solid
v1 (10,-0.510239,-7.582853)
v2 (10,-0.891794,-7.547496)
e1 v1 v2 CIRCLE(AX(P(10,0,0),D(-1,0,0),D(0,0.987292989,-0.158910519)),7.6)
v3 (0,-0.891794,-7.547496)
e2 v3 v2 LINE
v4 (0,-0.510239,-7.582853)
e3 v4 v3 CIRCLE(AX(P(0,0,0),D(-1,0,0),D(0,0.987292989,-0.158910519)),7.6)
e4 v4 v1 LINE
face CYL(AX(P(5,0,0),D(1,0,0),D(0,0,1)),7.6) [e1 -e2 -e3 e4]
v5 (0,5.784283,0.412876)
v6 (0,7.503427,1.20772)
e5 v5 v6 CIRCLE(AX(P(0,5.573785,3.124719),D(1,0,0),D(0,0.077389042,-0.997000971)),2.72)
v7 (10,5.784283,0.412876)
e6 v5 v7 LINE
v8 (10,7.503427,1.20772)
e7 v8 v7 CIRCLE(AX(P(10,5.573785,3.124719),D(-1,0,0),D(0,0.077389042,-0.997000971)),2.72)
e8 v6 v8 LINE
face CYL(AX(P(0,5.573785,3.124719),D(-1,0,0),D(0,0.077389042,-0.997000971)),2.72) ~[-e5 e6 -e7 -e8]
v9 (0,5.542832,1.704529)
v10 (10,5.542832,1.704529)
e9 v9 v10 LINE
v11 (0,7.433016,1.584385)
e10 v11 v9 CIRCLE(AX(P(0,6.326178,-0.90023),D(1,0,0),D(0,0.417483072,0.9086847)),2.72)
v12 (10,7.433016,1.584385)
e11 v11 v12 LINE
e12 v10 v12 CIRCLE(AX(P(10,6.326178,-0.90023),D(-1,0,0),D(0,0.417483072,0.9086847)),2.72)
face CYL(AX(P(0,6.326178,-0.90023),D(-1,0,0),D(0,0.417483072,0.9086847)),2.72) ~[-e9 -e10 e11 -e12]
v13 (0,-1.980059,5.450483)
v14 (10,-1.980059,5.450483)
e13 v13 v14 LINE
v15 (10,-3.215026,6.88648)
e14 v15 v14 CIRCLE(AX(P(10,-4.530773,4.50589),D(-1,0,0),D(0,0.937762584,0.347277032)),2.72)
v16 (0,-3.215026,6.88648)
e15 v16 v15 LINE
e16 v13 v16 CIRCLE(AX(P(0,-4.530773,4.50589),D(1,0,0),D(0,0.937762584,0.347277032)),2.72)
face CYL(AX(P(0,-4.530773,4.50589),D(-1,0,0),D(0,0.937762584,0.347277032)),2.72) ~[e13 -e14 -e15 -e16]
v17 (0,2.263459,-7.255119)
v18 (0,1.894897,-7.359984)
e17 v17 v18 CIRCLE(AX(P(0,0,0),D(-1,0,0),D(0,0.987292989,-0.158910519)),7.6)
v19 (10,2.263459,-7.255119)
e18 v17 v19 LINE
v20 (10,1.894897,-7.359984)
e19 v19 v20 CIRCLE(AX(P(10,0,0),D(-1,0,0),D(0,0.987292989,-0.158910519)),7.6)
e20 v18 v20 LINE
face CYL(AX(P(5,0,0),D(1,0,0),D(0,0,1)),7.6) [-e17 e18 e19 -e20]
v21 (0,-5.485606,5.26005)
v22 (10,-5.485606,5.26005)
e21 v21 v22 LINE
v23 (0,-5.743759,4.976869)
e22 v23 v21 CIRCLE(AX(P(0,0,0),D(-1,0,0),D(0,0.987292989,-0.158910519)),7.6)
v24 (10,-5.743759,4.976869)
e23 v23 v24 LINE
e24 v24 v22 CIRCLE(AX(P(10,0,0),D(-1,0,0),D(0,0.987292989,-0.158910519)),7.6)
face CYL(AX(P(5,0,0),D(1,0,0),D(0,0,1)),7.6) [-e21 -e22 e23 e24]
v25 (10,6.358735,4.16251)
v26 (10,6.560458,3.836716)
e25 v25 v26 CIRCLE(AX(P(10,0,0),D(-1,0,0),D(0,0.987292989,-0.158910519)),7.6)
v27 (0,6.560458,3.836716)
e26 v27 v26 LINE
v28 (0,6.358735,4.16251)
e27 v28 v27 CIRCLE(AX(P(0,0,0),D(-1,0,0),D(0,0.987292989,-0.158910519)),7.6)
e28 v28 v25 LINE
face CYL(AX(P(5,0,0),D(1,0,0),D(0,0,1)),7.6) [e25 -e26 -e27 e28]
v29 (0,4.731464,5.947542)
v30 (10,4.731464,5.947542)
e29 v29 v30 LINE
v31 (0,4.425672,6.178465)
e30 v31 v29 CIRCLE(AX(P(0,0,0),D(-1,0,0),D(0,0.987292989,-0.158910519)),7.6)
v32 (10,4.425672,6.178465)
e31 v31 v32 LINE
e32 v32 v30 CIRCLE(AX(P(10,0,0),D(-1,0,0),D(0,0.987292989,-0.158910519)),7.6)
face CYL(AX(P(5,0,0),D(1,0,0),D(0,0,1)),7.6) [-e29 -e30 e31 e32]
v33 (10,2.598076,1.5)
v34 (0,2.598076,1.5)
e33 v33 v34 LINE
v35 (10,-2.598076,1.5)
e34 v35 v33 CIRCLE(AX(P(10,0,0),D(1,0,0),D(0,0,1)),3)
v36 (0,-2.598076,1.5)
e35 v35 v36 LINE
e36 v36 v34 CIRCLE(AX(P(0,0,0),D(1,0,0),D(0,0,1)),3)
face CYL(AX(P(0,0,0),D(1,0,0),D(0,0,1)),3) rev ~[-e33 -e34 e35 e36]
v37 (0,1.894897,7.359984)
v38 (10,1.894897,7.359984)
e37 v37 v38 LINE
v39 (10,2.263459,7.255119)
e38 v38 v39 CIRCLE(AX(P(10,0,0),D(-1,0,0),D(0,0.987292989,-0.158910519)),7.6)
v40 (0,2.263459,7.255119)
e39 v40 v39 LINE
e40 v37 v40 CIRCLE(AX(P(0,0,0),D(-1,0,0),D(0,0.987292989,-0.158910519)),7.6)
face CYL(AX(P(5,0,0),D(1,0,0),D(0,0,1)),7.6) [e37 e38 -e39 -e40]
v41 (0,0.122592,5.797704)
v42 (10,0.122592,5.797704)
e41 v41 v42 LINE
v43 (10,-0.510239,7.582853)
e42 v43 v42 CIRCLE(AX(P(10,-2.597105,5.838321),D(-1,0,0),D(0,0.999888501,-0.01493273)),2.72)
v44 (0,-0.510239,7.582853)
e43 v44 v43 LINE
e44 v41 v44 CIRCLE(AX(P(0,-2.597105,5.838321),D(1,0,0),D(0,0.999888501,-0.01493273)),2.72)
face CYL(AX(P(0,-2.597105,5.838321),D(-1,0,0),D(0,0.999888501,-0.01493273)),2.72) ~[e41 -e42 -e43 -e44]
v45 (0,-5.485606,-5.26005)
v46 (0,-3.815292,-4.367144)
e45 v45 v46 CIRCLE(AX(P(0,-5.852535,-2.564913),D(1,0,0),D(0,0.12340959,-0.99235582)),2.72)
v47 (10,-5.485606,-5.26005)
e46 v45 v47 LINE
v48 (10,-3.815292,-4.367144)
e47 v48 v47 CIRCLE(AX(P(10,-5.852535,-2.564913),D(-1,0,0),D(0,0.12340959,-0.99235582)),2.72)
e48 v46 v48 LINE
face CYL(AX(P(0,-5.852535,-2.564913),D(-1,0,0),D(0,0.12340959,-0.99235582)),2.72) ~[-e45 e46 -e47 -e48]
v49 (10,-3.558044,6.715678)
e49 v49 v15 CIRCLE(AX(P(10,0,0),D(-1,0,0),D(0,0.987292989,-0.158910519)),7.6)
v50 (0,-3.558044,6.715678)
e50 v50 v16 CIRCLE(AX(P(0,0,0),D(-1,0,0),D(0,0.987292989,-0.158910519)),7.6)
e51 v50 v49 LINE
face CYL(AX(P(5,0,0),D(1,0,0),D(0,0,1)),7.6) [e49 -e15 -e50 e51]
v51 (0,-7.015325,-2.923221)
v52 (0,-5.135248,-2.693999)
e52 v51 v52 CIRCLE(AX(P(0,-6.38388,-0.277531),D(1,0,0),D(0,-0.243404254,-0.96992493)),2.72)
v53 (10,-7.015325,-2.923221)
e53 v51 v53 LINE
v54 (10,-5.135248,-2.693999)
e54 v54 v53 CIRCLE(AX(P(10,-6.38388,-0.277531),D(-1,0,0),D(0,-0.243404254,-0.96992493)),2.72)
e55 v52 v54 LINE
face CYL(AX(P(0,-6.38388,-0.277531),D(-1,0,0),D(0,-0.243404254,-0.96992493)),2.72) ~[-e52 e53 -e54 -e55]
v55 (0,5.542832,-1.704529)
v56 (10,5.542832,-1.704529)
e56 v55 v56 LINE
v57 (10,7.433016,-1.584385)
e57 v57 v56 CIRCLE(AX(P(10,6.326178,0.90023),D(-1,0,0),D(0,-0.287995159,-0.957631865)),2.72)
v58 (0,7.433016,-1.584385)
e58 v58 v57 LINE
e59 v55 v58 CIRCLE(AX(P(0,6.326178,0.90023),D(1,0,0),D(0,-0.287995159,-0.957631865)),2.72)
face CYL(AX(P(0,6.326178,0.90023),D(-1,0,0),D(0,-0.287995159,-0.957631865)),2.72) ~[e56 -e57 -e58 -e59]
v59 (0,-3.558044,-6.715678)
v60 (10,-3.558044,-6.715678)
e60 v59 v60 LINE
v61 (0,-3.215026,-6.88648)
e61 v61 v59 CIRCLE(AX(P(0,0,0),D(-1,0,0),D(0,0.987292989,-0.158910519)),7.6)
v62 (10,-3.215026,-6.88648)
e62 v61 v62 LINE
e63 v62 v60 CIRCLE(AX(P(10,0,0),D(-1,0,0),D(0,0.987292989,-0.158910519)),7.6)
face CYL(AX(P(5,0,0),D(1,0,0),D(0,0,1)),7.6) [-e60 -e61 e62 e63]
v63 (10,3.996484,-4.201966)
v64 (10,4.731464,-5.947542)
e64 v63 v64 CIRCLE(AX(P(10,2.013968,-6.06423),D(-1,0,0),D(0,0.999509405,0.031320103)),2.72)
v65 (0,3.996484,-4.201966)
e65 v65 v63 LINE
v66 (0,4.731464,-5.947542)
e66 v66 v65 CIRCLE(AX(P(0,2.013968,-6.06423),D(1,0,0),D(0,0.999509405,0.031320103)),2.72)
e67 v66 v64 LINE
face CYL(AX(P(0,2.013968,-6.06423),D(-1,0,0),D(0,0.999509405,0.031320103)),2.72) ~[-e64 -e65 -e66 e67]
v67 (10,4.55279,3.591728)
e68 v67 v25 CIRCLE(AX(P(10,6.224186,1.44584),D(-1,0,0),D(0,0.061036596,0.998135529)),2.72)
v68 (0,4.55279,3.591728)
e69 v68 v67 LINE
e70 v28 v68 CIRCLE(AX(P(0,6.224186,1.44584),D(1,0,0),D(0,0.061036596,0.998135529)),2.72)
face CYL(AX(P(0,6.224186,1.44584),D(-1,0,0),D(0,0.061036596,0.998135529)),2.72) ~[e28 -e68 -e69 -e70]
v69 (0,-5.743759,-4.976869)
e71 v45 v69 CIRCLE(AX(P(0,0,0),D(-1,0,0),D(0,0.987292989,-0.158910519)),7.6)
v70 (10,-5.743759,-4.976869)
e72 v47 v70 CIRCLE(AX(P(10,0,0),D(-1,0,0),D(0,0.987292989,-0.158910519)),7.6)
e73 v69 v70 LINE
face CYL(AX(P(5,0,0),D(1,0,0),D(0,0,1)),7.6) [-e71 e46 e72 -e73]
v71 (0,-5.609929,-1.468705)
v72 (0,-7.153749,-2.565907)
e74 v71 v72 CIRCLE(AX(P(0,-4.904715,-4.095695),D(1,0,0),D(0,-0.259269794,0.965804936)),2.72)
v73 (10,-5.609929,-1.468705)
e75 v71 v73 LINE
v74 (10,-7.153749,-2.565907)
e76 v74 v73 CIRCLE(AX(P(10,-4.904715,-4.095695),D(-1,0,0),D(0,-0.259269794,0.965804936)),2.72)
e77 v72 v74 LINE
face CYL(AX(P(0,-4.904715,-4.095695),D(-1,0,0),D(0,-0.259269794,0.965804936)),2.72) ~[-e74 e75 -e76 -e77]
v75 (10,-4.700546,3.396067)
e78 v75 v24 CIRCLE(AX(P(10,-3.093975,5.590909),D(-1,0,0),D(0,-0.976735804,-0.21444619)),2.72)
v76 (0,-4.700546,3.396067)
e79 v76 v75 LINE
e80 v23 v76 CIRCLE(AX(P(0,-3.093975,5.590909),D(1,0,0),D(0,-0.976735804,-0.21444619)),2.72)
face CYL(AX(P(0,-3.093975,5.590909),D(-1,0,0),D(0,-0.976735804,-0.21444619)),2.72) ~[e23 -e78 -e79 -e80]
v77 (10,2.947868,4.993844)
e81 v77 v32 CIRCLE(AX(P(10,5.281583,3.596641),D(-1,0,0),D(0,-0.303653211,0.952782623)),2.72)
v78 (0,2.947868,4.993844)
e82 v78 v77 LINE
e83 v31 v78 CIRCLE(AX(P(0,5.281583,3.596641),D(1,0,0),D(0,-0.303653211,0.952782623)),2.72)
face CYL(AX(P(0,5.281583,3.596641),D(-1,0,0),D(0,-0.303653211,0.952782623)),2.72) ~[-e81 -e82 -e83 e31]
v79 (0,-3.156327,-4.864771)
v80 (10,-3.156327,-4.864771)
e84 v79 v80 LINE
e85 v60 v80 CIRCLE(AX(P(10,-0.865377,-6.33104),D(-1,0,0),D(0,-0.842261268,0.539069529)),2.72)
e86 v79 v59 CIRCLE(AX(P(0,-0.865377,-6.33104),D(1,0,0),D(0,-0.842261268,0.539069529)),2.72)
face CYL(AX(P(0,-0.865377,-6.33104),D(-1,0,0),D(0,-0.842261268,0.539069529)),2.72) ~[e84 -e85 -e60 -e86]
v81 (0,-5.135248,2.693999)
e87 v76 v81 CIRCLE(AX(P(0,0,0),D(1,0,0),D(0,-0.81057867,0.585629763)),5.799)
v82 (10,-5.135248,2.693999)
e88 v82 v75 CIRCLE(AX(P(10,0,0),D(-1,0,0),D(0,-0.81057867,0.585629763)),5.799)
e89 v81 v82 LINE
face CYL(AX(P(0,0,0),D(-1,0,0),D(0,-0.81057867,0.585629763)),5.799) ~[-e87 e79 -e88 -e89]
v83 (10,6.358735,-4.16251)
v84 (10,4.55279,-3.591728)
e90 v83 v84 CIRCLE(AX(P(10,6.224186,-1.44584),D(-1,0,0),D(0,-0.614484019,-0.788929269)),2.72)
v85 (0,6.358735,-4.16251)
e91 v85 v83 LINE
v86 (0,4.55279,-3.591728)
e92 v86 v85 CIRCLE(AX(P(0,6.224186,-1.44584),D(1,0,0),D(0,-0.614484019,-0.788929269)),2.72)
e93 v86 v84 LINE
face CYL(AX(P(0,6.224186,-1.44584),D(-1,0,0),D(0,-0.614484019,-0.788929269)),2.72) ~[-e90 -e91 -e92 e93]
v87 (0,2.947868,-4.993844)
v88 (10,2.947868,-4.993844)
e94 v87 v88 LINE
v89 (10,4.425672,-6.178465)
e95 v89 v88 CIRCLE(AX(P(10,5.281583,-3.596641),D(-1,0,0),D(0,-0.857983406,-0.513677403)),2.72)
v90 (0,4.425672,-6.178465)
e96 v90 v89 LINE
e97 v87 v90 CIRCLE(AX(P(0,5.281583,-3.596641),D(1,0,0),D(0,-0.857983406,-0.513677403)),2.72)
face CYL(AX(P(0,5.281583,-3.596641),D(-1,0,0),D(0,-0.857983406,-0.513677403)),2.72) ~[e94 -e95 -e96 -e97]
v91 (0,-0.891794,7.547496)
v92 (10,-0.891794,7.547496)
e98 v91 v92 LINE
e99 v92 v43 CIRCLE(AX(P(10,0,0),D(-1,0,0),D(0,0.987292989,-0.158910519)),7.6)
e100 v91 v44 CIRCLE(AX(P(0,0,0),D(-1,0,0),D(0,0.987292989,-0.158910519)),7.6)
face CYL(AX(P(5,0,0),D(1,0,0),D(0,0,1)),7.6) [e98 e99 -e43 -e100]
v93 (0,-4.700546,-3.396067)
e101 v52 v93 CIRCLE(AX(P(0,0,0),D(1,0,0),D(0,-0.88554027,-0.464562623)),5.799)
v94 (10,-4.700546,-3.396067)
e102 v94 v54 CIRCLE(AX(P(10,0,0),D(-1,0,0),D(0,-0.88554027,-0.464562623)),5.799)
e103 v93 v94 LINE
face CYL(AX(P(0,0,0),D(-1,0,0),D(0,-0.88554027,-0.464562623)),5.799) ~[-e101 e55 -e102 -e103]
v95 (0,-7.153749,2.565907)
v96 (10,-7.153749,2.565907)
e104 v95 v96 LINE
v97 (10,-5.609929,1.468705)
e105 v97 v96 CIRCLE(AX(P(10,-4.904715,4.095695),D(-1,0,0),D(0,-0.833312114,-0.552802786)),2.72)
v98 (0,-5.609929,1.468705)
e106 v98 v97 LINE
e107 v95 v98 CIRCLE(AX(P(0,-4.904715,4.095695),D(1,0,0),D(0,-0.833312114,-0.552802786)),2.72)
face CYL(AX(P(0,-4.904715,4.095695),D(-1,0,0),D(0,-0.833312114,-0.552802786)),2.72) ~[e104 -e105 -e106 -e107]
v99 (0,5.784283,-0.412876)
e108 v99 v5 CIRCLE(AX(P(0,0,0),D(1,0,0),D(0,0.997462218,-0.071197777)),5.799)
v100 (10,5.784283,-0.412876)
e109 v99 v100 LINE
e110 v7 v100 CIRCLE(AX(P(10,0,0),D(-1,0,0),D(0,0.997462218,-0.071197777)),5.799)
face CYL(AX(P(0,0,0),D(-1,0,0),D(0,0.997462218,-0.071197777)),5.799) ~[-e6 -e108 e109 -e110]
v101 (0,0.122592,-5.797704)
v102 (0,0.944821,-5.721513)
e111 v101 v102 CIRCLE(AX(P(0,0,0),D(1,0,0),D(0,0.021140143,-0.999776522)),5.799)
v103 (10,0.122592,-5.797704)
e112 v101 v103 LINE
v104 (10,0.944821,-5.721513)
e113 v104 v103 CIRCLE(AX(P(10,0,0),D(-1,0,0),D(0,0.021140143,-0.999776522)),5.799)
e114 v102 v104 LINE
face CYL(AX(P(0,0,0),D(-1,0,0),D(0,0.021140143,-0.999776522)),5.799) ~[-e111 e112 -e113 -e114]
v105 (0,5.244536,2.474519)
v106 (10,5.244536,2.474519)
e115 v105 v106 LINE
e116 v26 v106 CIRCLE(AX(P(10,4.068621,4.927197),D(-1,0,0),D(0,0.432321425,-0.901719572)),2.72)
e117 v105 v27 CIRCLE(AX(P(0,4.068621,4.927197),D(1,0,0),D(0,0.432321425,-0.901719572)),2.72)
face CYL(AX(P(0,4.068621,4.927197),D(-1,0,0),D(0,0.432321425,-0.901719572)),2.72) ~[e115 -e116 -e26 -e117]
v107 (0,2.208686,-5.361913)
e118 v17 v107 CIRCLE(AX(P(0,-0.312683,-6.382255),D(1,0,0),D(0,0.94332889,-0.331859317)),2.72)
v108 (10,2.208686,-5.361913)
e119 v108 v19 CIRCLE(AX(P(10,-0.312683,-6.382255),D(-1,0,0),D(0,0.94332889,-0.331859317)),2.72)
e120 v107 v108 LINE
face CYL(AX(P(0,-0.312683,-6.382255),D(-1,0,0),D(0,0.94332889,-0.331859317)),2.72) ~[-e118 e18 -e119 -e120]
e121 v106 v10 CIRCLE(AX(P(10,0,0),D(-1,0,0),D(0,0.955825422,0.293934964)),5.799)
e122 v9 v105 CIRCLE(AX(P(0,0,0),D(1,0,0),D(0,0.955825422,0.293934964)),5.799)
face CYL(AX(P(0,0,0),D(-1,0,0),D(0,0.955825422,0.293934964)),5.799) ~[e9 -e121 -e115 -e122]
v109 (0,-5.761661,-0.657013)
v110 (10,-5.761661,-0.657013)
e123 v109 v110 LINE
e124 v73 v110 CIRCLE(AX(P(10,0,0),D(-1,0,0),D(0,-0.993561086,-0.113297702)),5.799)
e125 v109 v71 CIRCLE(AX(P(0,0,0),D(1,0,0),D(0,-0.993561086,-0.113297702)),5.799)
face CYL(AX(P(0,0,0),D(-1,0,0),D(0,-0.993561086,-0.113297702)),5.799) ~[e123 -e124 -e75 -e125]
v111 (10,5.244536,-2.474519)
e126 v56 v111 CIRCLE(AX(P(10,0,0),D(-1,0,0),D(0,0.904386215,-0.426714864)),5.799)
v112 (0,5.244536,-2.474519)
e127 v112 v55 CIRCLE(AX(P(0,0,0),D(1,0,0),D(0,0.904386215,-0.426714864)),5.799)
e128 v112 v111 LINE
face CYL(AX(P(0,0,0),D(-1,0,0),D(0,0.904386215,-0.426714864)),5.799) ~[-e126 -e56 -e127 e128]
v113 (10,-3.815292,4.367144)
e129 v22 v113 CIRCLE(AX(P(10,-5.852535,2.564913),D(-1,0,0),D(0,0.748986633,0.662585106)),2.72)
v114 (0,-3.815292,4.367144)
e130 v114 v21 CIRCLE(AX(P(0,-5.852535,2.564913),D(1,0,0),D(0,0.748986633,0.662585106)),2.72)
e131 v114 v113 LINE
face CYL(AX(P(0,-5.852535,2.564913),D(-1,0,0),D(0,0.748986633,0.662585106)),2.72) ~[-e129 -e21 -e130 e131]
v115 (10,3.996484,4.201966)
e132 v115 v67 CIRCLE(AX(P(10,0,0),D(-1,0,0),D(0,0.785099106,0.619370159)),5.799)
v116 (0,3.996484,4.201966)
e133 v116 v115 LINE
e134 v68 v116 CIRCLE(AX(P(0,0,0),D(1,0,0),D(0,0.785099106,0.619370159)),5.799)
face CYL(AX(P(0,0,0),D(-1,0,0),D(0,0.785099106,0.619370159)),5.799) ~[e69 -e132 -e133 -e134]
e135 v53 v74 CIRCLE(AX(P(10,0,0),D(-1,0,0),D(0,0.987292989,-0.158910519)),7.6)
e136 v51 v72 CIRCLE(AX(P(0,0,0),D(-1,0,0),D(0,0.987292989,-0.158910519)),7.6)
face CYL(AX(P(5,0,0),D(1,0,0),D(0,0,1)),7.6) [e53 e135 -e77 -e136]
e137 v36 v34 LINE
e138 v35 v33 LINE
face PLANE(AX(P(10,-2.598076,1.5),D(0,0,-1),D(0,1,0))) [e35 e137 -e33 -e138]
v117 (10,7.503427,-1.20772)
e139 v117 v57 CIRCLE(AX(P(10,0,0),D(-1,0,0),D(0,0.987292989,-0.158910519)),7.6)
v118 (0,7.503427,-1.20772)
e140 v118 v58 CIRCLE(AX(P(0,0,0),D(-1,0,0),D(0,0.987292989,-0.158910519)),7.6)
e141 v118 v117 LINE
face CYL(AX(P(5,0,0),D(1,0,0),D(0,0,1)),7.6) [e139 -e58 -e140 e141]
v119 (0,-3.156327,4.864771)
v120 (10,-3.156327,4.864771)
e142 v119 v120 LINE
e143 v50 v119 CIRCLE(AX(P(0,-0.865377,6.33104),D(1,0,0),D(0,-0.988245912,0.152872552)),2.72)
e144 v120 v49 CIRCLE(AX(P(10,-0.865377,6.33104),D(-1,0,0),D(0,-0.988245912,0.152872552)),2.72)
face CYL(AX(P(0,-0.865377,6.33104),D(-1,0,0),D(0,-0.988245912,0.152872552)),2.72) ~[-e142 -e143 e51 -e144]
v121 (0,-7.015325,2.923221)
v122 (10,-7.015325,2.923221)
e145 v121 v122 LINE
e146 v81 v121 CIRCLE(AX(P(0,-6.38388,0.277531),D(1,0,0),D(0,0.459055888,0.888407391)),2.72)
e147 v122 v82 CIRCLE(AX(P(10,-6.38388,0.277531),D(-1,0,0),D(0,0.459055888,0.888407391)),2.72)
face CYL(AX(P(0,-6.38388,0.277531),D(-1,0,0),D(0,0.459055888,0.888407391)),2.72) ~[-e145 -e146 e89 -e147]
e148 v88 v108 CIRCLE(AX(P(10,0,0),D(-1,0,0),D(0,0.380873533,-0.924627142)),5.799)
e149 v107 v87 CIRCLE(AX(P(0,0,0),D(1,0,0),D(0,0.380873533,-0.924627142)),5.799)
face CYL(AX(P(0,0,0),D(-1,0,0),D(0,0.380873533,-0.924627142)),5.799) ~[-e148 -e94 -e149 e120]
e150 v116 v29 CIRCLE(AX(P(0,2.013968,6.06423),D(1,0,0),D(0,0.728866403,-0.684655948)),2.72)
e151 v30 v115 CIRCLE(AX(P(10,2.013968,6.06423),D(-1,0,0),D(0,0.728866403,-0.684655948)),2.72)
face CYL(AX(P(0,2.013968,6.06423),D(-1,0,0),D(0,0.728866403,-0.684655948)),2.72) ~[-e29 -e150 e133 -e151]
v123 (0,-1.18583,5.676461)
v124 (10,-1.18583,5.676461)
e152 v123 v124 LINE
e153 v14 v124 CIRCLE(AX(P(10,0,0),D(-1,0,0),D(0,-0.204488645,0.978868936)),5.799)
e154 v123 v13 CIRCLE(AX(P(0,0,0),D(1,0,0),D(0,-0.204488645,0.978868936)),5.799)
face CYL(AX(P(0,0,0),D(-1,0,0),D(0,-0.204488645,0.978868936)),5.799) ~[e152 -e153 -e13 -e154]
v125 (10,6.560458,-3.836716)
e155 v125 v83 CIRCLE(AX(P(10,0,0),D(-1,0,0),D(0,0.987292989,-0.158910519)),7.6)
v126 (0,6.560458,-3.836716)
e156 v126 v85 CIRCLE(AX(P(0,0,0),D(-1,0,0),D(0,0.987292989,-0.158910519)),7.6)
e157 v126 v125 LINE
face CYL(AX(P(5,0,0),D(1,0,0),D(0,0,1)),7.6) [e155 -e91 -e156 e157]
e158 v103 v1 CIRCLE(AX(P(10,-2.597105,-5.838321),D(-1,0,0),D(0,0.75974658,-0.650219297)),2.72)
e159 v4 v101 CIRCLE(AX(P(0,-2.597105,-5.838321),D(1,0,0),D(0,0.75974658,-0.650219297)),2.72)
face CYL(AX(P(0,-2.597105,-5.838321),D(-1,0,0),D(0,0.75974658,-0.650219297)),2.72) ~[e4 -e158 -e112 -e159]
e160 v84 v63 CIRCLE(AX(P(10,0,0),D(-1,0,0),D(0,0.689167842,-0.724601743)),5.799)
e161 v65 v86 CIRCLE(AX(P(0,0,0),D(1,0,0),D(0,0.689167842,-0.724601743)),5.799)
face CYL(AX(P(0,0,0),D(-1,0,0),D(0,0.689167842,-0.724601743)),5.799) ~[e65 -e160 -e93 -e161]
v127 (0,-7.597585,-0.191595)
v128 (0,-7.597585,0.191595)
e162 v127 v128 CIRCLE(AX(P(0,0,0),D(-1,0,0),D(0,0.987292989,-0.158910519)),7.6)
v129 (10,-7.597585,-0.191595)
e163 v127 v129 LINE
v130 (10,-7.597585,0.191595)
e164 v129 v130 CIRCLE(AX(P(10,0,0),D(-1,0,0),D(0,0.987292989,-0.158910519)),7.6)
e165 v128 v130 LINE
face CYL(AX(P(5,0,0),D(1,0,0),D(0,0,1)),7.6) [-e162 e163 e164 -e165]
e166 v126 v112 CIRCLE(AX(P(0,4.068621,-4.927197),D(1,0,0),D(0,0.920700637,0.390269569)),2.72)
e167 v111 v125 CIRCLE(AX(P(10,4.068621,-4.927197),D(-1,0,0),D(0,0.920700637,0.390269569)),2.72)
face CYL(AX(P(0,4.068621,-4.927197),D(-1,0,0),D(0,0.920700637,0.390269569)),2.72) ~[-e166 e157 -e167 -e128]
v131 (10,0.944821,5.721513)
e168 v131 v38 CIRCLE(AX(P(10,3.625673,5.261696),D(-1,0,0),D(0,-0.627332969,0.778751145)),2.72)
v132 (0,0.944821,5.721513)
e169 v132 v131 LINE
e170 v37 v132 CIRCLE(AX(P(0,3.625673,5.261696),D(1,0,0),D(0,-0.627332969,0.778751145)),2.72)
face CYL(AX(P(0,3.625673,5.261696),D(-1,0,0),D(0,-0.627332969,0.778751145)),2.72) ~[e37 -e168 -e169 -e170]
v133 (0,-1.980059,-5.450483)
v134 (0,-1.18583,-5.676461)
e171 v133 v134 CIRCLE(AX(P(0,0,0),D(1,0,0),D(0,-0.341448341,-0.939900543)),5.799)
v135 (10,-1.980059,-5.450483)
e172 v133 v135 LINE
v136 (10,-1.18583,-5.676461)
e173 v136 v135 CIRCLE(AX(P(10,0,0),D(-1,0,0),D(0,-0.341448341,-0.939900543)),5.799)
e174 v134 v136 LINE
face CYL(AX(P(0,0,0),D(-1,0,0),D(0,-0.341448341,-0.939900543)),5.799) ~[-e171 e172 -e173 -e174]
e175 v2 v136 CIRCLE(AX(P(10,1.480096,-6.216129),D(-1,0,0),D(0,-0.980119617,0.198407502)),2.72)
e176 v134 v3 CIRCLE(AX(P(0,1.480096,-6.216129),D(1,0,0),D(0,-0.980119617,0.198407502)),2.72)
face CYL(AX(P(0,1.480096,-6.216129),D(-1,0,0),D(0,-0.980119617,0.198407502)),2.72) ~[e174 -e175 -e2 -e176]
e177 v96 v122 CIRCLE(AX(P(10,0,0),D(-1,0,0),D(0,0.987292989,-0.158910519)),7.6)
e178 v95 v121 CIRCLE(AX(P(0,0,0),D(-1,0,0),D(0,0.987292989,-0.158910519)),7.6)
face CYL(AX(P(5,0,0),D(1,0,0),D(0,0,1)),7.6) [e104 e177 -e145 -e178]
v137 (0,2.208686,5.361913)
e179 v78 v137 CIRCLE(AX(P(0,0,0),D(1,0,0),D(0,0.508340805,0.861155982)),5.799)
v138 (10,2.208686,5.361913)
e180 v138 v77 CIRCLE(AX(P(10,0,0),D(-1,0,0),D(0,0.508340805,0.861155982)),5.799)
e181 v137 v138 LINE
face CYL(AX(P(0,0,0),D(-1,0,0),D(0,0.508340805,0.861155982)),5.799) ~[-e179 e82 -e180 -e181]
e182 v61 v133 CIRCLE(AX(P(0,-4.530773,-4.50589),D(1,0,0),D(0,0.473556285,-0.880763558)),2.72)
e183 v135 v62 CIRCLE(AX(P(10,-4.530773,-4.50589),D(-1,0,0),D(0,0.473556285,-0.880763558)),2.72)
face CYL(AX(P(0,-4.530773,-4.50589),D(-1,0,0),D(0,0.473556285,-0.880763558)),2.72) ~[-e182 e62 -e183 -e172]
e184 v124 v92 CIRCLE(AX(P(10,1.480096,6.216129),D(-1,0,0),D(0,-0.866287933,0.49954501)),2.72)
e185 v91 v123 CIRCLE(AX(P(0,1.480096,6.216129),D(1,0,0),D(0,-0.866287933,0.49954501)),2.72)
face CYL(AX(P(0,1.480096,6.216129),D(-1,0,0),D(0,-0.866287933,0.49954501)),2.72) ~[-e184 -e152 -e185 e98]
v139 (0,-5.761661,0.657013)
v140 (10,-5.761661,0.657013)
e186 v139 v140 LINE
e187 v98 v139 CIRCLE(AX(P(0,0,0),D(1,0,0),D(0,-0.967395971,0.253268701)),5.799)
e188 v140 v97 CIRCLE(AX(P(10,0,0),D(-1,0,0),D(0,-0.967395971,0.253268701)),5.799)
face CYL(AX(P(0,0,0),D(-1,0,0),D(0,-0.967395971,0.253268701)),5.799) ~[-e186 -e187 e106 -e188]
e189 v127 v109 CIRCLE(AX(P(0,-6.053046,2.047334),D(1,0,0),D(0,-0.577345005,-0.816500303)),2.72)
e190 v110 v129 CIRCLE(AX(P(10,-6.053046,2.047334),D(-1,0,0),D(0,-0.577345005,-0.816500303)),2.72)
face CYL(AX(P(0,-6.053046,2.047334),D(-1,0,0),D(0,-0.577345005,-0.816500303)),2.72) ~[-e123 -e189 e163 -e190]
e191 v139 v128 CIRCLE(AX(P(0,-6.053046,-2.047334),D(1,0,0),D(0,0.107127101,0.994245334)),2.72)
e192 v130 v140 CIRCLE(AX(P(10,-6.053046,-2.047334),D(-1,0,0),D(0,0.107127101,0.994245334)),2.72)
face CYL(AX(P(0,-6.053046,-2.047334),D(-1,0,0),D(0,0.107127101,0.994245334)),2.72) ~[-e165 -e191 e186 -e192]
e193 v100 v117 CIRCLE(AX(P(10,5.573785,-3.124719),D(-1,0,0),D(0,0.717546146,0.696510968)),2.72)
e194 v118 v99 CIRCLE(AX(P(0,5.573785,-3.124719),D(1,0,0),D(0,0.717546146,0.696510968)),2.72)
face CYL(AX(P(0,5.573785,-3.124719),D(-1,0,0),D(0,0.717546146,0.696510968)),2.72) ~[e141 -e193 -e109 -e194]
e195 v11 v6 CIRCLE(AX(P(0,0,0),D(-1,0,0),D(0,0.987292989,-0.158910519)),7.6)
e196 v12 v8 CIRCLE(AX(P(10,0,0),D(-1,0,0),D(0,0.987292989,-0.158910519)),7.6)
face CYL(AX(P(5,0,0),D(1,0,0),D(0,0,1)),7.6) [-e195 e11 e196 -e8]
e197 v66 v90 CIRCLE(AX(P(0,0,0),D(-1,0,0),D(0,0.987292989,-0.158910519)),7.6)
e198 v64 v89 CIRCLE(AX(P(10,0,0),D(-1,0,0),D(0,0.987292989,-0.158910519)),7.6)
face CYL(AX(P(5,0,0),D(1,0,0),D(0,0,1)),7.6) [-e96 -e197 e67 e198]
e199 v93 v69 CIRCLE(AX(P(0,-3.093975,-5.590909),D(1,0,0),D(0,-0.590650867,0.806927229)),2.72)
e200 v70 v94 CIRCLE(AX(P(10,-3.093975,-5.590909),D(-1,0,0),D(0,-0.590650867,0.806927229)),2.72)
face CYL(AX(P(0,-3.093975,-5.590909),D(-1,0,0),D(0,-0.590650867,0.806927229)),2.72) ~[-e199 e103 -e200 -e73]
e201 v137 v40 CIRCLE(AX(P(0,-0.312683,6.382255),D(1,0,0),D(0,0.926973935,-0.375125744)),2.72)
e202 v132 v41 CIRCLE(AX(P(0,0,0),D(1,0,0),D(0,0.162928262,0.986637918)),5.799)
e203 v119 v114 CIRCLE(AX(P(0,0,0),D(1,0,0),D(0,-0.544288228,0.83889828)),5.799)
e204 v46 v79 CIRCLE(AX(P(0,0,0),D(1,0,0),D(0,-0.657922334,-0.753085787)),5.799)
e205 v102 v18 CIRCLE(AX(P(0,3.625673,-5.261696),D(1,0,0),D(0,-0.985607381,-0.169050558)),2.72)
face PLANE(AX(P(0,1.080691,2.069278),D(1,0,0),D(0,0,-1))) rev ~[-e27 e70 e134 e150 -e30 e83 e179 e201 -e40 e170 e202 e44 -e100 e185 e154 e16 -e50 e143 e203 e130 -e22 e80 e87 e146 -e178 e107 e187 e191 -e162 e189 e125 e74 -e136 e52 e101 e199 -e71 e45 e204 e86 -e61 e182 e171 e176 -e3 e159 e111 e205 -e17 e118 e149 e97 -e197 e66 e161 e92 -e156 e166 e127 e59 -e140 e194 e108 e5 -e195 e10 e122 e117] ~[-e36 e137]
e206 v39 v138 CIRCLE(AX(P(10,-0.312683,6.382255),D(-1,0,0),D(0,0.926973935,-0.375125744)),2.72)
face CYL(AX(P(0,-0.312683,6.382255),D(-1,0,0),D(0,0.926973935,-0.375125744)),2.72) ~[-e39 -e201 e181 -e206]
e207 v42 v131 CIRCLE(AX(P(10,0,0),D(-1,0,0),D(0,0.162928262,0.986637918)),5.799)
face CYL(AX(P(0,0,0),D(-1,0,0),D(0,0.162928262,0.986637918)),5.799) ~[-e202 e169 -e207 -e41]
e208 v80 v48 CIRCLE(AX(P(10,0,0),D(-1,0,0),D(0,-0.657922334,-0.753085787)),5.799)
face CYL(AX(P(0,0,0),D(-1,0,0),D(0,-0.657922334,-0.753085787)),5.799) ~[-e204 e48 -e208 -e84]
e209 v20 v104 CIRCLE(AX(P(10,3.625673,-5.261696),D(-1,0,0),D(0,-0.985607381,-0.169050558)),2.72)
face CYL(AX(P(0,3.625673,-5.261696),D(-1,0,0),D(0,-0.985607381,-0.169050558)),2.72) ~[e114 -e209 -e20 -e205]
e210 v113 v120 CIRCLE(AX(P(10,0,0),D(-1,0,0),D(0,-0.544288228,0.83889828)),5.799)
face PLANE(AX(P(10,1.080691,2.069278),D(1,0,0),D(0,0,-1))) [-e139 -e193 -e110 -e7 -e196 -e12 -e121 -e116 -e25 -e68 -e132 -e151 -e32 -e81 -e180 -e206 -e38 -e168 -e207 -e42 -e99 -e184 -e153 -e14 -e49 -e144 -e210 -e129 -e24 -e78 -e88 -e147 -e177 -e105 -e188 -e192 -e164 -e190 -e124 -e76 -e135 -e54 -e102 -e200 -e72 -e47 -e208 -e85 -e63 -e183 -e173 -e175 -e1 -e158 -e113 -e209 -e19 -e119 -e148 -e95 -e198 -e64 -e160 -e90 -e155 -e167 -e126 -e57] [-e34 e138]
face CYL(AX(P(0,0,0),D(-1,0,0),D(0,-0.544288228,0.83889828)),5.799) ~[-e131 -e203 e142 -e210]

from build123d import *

# Parameters (mm, degrees)
BASPROSKE_W         = 10
BASPROSKE_H         = 7.6
TOOTHCUT_DEPTH      = 15.680599443
TEETHCUTS_COUNT     = 17
TEETHCUTS_ANGLE     = 338.823529412
BORSKE_R            = 3
BORE_DEPTH          = 50.0001016
BOSS_EXTRUDE3_DEPTH = 10


with BuildPart() as part:
    # BasProSke → Base-Revolve (revolve)
    with BuildSketch(Plane(origin=(0, 0, 0), x_dir=(1, 0, 0), z_dir=(0, 1, 0)), mode=Mode.PRIVATE) as base_revolve_sk:
        with Locations((5, 3.8)):
            Rectangle(BASPROSKE_W, BASPROSKE_H)
    revolve(base_revolve_sk.sketch.rotate(Axis((-10, 0, 0), (1, 0, 0)), 180), axis=Axis((-10, 0, 0), (1, 0, 0)))

    # TooCutSke → ToothCut (cut, through all)
    with BuildSketch(Plane(origin=(0, 0, 0), x_dir=(0, 0, -1), z_dir=(1, 0, 0))):
        with BuildLine():
            ThreePointArc((0.412875903, 5.784283403), (0, 5.799), (-0.412875903, 5.784283403))
            ThreePointArc((-0.412875903, 5.784283403), (-0.662486036, 6.729558143), (-1.230208712, 7.525510726))
            ThreePointArc((-1.230208712, 7.525510726), (0, 7.6254), (1.230208712, 7.525510726))
            ThreePointArc((1.230208712, 7.525510726), (0.662486036, 6.729558143), (0.412875903, 5.784283403))
        make_face()
    toothcut = extrude(amount=TOOTHCUT_DEPTH, mode=Mode.SUBTRACT)

    # TeethCuts: ToothCut ×17 about axis
    teethcuts_axis = Axis((-10, 0, 0), (1, 0, 0))
    for i in range(1, TEETHCUTS_COUNT):
        add(toothcut.rotate(teethcuts_axis, i * TEETHCUTS_ANGLE / (TEETHCUTS_COUNT - 1)), mode=Mode.SUBTRACT)

    # BorSke → Bore (cut, symmetric)
    with BuildSketch(Plane(origin=(0, 0, 0), x_dir=(0, 0, -1), z_dir=(1, 0, 0))):
        with Locations(Location((0, 0, 0), (0, 0, 180))):
            Circle(BORSKE_R)
    extrude(amount=BORE_DEPTH, both=True, mode=Mode.SUBTRACT)

    # Sketch1 → Boss-Extrude3 (add)
    with BuildSketch(Plane(origin=(10, 0, 0), x_dir=(0, 0, -1), z_dir=(1, 0, 0))):
        with BuildLine():
            ThreePointArc((-1.5, 2.598076211), (-2.598076211, 1.5), (-3, 0))
            Line((-3, 0), (-1.5, 0))
            Line((-1.5, 0), (-1.5, 2.598076211))
        make_face()
        with BuildLine():
            Line((-1.5, 0), (-3, 0))
            ThreePointArc((-3, 0), (-2.598076211, -1.5), (-1.5, -2.598076211))
            Line((-1.5, -2.598076211), (-1.5, 0))
        make_face()
    extrude(amount=-BOSS_EXTRUDE3_DEPTH)


solid = part.part
